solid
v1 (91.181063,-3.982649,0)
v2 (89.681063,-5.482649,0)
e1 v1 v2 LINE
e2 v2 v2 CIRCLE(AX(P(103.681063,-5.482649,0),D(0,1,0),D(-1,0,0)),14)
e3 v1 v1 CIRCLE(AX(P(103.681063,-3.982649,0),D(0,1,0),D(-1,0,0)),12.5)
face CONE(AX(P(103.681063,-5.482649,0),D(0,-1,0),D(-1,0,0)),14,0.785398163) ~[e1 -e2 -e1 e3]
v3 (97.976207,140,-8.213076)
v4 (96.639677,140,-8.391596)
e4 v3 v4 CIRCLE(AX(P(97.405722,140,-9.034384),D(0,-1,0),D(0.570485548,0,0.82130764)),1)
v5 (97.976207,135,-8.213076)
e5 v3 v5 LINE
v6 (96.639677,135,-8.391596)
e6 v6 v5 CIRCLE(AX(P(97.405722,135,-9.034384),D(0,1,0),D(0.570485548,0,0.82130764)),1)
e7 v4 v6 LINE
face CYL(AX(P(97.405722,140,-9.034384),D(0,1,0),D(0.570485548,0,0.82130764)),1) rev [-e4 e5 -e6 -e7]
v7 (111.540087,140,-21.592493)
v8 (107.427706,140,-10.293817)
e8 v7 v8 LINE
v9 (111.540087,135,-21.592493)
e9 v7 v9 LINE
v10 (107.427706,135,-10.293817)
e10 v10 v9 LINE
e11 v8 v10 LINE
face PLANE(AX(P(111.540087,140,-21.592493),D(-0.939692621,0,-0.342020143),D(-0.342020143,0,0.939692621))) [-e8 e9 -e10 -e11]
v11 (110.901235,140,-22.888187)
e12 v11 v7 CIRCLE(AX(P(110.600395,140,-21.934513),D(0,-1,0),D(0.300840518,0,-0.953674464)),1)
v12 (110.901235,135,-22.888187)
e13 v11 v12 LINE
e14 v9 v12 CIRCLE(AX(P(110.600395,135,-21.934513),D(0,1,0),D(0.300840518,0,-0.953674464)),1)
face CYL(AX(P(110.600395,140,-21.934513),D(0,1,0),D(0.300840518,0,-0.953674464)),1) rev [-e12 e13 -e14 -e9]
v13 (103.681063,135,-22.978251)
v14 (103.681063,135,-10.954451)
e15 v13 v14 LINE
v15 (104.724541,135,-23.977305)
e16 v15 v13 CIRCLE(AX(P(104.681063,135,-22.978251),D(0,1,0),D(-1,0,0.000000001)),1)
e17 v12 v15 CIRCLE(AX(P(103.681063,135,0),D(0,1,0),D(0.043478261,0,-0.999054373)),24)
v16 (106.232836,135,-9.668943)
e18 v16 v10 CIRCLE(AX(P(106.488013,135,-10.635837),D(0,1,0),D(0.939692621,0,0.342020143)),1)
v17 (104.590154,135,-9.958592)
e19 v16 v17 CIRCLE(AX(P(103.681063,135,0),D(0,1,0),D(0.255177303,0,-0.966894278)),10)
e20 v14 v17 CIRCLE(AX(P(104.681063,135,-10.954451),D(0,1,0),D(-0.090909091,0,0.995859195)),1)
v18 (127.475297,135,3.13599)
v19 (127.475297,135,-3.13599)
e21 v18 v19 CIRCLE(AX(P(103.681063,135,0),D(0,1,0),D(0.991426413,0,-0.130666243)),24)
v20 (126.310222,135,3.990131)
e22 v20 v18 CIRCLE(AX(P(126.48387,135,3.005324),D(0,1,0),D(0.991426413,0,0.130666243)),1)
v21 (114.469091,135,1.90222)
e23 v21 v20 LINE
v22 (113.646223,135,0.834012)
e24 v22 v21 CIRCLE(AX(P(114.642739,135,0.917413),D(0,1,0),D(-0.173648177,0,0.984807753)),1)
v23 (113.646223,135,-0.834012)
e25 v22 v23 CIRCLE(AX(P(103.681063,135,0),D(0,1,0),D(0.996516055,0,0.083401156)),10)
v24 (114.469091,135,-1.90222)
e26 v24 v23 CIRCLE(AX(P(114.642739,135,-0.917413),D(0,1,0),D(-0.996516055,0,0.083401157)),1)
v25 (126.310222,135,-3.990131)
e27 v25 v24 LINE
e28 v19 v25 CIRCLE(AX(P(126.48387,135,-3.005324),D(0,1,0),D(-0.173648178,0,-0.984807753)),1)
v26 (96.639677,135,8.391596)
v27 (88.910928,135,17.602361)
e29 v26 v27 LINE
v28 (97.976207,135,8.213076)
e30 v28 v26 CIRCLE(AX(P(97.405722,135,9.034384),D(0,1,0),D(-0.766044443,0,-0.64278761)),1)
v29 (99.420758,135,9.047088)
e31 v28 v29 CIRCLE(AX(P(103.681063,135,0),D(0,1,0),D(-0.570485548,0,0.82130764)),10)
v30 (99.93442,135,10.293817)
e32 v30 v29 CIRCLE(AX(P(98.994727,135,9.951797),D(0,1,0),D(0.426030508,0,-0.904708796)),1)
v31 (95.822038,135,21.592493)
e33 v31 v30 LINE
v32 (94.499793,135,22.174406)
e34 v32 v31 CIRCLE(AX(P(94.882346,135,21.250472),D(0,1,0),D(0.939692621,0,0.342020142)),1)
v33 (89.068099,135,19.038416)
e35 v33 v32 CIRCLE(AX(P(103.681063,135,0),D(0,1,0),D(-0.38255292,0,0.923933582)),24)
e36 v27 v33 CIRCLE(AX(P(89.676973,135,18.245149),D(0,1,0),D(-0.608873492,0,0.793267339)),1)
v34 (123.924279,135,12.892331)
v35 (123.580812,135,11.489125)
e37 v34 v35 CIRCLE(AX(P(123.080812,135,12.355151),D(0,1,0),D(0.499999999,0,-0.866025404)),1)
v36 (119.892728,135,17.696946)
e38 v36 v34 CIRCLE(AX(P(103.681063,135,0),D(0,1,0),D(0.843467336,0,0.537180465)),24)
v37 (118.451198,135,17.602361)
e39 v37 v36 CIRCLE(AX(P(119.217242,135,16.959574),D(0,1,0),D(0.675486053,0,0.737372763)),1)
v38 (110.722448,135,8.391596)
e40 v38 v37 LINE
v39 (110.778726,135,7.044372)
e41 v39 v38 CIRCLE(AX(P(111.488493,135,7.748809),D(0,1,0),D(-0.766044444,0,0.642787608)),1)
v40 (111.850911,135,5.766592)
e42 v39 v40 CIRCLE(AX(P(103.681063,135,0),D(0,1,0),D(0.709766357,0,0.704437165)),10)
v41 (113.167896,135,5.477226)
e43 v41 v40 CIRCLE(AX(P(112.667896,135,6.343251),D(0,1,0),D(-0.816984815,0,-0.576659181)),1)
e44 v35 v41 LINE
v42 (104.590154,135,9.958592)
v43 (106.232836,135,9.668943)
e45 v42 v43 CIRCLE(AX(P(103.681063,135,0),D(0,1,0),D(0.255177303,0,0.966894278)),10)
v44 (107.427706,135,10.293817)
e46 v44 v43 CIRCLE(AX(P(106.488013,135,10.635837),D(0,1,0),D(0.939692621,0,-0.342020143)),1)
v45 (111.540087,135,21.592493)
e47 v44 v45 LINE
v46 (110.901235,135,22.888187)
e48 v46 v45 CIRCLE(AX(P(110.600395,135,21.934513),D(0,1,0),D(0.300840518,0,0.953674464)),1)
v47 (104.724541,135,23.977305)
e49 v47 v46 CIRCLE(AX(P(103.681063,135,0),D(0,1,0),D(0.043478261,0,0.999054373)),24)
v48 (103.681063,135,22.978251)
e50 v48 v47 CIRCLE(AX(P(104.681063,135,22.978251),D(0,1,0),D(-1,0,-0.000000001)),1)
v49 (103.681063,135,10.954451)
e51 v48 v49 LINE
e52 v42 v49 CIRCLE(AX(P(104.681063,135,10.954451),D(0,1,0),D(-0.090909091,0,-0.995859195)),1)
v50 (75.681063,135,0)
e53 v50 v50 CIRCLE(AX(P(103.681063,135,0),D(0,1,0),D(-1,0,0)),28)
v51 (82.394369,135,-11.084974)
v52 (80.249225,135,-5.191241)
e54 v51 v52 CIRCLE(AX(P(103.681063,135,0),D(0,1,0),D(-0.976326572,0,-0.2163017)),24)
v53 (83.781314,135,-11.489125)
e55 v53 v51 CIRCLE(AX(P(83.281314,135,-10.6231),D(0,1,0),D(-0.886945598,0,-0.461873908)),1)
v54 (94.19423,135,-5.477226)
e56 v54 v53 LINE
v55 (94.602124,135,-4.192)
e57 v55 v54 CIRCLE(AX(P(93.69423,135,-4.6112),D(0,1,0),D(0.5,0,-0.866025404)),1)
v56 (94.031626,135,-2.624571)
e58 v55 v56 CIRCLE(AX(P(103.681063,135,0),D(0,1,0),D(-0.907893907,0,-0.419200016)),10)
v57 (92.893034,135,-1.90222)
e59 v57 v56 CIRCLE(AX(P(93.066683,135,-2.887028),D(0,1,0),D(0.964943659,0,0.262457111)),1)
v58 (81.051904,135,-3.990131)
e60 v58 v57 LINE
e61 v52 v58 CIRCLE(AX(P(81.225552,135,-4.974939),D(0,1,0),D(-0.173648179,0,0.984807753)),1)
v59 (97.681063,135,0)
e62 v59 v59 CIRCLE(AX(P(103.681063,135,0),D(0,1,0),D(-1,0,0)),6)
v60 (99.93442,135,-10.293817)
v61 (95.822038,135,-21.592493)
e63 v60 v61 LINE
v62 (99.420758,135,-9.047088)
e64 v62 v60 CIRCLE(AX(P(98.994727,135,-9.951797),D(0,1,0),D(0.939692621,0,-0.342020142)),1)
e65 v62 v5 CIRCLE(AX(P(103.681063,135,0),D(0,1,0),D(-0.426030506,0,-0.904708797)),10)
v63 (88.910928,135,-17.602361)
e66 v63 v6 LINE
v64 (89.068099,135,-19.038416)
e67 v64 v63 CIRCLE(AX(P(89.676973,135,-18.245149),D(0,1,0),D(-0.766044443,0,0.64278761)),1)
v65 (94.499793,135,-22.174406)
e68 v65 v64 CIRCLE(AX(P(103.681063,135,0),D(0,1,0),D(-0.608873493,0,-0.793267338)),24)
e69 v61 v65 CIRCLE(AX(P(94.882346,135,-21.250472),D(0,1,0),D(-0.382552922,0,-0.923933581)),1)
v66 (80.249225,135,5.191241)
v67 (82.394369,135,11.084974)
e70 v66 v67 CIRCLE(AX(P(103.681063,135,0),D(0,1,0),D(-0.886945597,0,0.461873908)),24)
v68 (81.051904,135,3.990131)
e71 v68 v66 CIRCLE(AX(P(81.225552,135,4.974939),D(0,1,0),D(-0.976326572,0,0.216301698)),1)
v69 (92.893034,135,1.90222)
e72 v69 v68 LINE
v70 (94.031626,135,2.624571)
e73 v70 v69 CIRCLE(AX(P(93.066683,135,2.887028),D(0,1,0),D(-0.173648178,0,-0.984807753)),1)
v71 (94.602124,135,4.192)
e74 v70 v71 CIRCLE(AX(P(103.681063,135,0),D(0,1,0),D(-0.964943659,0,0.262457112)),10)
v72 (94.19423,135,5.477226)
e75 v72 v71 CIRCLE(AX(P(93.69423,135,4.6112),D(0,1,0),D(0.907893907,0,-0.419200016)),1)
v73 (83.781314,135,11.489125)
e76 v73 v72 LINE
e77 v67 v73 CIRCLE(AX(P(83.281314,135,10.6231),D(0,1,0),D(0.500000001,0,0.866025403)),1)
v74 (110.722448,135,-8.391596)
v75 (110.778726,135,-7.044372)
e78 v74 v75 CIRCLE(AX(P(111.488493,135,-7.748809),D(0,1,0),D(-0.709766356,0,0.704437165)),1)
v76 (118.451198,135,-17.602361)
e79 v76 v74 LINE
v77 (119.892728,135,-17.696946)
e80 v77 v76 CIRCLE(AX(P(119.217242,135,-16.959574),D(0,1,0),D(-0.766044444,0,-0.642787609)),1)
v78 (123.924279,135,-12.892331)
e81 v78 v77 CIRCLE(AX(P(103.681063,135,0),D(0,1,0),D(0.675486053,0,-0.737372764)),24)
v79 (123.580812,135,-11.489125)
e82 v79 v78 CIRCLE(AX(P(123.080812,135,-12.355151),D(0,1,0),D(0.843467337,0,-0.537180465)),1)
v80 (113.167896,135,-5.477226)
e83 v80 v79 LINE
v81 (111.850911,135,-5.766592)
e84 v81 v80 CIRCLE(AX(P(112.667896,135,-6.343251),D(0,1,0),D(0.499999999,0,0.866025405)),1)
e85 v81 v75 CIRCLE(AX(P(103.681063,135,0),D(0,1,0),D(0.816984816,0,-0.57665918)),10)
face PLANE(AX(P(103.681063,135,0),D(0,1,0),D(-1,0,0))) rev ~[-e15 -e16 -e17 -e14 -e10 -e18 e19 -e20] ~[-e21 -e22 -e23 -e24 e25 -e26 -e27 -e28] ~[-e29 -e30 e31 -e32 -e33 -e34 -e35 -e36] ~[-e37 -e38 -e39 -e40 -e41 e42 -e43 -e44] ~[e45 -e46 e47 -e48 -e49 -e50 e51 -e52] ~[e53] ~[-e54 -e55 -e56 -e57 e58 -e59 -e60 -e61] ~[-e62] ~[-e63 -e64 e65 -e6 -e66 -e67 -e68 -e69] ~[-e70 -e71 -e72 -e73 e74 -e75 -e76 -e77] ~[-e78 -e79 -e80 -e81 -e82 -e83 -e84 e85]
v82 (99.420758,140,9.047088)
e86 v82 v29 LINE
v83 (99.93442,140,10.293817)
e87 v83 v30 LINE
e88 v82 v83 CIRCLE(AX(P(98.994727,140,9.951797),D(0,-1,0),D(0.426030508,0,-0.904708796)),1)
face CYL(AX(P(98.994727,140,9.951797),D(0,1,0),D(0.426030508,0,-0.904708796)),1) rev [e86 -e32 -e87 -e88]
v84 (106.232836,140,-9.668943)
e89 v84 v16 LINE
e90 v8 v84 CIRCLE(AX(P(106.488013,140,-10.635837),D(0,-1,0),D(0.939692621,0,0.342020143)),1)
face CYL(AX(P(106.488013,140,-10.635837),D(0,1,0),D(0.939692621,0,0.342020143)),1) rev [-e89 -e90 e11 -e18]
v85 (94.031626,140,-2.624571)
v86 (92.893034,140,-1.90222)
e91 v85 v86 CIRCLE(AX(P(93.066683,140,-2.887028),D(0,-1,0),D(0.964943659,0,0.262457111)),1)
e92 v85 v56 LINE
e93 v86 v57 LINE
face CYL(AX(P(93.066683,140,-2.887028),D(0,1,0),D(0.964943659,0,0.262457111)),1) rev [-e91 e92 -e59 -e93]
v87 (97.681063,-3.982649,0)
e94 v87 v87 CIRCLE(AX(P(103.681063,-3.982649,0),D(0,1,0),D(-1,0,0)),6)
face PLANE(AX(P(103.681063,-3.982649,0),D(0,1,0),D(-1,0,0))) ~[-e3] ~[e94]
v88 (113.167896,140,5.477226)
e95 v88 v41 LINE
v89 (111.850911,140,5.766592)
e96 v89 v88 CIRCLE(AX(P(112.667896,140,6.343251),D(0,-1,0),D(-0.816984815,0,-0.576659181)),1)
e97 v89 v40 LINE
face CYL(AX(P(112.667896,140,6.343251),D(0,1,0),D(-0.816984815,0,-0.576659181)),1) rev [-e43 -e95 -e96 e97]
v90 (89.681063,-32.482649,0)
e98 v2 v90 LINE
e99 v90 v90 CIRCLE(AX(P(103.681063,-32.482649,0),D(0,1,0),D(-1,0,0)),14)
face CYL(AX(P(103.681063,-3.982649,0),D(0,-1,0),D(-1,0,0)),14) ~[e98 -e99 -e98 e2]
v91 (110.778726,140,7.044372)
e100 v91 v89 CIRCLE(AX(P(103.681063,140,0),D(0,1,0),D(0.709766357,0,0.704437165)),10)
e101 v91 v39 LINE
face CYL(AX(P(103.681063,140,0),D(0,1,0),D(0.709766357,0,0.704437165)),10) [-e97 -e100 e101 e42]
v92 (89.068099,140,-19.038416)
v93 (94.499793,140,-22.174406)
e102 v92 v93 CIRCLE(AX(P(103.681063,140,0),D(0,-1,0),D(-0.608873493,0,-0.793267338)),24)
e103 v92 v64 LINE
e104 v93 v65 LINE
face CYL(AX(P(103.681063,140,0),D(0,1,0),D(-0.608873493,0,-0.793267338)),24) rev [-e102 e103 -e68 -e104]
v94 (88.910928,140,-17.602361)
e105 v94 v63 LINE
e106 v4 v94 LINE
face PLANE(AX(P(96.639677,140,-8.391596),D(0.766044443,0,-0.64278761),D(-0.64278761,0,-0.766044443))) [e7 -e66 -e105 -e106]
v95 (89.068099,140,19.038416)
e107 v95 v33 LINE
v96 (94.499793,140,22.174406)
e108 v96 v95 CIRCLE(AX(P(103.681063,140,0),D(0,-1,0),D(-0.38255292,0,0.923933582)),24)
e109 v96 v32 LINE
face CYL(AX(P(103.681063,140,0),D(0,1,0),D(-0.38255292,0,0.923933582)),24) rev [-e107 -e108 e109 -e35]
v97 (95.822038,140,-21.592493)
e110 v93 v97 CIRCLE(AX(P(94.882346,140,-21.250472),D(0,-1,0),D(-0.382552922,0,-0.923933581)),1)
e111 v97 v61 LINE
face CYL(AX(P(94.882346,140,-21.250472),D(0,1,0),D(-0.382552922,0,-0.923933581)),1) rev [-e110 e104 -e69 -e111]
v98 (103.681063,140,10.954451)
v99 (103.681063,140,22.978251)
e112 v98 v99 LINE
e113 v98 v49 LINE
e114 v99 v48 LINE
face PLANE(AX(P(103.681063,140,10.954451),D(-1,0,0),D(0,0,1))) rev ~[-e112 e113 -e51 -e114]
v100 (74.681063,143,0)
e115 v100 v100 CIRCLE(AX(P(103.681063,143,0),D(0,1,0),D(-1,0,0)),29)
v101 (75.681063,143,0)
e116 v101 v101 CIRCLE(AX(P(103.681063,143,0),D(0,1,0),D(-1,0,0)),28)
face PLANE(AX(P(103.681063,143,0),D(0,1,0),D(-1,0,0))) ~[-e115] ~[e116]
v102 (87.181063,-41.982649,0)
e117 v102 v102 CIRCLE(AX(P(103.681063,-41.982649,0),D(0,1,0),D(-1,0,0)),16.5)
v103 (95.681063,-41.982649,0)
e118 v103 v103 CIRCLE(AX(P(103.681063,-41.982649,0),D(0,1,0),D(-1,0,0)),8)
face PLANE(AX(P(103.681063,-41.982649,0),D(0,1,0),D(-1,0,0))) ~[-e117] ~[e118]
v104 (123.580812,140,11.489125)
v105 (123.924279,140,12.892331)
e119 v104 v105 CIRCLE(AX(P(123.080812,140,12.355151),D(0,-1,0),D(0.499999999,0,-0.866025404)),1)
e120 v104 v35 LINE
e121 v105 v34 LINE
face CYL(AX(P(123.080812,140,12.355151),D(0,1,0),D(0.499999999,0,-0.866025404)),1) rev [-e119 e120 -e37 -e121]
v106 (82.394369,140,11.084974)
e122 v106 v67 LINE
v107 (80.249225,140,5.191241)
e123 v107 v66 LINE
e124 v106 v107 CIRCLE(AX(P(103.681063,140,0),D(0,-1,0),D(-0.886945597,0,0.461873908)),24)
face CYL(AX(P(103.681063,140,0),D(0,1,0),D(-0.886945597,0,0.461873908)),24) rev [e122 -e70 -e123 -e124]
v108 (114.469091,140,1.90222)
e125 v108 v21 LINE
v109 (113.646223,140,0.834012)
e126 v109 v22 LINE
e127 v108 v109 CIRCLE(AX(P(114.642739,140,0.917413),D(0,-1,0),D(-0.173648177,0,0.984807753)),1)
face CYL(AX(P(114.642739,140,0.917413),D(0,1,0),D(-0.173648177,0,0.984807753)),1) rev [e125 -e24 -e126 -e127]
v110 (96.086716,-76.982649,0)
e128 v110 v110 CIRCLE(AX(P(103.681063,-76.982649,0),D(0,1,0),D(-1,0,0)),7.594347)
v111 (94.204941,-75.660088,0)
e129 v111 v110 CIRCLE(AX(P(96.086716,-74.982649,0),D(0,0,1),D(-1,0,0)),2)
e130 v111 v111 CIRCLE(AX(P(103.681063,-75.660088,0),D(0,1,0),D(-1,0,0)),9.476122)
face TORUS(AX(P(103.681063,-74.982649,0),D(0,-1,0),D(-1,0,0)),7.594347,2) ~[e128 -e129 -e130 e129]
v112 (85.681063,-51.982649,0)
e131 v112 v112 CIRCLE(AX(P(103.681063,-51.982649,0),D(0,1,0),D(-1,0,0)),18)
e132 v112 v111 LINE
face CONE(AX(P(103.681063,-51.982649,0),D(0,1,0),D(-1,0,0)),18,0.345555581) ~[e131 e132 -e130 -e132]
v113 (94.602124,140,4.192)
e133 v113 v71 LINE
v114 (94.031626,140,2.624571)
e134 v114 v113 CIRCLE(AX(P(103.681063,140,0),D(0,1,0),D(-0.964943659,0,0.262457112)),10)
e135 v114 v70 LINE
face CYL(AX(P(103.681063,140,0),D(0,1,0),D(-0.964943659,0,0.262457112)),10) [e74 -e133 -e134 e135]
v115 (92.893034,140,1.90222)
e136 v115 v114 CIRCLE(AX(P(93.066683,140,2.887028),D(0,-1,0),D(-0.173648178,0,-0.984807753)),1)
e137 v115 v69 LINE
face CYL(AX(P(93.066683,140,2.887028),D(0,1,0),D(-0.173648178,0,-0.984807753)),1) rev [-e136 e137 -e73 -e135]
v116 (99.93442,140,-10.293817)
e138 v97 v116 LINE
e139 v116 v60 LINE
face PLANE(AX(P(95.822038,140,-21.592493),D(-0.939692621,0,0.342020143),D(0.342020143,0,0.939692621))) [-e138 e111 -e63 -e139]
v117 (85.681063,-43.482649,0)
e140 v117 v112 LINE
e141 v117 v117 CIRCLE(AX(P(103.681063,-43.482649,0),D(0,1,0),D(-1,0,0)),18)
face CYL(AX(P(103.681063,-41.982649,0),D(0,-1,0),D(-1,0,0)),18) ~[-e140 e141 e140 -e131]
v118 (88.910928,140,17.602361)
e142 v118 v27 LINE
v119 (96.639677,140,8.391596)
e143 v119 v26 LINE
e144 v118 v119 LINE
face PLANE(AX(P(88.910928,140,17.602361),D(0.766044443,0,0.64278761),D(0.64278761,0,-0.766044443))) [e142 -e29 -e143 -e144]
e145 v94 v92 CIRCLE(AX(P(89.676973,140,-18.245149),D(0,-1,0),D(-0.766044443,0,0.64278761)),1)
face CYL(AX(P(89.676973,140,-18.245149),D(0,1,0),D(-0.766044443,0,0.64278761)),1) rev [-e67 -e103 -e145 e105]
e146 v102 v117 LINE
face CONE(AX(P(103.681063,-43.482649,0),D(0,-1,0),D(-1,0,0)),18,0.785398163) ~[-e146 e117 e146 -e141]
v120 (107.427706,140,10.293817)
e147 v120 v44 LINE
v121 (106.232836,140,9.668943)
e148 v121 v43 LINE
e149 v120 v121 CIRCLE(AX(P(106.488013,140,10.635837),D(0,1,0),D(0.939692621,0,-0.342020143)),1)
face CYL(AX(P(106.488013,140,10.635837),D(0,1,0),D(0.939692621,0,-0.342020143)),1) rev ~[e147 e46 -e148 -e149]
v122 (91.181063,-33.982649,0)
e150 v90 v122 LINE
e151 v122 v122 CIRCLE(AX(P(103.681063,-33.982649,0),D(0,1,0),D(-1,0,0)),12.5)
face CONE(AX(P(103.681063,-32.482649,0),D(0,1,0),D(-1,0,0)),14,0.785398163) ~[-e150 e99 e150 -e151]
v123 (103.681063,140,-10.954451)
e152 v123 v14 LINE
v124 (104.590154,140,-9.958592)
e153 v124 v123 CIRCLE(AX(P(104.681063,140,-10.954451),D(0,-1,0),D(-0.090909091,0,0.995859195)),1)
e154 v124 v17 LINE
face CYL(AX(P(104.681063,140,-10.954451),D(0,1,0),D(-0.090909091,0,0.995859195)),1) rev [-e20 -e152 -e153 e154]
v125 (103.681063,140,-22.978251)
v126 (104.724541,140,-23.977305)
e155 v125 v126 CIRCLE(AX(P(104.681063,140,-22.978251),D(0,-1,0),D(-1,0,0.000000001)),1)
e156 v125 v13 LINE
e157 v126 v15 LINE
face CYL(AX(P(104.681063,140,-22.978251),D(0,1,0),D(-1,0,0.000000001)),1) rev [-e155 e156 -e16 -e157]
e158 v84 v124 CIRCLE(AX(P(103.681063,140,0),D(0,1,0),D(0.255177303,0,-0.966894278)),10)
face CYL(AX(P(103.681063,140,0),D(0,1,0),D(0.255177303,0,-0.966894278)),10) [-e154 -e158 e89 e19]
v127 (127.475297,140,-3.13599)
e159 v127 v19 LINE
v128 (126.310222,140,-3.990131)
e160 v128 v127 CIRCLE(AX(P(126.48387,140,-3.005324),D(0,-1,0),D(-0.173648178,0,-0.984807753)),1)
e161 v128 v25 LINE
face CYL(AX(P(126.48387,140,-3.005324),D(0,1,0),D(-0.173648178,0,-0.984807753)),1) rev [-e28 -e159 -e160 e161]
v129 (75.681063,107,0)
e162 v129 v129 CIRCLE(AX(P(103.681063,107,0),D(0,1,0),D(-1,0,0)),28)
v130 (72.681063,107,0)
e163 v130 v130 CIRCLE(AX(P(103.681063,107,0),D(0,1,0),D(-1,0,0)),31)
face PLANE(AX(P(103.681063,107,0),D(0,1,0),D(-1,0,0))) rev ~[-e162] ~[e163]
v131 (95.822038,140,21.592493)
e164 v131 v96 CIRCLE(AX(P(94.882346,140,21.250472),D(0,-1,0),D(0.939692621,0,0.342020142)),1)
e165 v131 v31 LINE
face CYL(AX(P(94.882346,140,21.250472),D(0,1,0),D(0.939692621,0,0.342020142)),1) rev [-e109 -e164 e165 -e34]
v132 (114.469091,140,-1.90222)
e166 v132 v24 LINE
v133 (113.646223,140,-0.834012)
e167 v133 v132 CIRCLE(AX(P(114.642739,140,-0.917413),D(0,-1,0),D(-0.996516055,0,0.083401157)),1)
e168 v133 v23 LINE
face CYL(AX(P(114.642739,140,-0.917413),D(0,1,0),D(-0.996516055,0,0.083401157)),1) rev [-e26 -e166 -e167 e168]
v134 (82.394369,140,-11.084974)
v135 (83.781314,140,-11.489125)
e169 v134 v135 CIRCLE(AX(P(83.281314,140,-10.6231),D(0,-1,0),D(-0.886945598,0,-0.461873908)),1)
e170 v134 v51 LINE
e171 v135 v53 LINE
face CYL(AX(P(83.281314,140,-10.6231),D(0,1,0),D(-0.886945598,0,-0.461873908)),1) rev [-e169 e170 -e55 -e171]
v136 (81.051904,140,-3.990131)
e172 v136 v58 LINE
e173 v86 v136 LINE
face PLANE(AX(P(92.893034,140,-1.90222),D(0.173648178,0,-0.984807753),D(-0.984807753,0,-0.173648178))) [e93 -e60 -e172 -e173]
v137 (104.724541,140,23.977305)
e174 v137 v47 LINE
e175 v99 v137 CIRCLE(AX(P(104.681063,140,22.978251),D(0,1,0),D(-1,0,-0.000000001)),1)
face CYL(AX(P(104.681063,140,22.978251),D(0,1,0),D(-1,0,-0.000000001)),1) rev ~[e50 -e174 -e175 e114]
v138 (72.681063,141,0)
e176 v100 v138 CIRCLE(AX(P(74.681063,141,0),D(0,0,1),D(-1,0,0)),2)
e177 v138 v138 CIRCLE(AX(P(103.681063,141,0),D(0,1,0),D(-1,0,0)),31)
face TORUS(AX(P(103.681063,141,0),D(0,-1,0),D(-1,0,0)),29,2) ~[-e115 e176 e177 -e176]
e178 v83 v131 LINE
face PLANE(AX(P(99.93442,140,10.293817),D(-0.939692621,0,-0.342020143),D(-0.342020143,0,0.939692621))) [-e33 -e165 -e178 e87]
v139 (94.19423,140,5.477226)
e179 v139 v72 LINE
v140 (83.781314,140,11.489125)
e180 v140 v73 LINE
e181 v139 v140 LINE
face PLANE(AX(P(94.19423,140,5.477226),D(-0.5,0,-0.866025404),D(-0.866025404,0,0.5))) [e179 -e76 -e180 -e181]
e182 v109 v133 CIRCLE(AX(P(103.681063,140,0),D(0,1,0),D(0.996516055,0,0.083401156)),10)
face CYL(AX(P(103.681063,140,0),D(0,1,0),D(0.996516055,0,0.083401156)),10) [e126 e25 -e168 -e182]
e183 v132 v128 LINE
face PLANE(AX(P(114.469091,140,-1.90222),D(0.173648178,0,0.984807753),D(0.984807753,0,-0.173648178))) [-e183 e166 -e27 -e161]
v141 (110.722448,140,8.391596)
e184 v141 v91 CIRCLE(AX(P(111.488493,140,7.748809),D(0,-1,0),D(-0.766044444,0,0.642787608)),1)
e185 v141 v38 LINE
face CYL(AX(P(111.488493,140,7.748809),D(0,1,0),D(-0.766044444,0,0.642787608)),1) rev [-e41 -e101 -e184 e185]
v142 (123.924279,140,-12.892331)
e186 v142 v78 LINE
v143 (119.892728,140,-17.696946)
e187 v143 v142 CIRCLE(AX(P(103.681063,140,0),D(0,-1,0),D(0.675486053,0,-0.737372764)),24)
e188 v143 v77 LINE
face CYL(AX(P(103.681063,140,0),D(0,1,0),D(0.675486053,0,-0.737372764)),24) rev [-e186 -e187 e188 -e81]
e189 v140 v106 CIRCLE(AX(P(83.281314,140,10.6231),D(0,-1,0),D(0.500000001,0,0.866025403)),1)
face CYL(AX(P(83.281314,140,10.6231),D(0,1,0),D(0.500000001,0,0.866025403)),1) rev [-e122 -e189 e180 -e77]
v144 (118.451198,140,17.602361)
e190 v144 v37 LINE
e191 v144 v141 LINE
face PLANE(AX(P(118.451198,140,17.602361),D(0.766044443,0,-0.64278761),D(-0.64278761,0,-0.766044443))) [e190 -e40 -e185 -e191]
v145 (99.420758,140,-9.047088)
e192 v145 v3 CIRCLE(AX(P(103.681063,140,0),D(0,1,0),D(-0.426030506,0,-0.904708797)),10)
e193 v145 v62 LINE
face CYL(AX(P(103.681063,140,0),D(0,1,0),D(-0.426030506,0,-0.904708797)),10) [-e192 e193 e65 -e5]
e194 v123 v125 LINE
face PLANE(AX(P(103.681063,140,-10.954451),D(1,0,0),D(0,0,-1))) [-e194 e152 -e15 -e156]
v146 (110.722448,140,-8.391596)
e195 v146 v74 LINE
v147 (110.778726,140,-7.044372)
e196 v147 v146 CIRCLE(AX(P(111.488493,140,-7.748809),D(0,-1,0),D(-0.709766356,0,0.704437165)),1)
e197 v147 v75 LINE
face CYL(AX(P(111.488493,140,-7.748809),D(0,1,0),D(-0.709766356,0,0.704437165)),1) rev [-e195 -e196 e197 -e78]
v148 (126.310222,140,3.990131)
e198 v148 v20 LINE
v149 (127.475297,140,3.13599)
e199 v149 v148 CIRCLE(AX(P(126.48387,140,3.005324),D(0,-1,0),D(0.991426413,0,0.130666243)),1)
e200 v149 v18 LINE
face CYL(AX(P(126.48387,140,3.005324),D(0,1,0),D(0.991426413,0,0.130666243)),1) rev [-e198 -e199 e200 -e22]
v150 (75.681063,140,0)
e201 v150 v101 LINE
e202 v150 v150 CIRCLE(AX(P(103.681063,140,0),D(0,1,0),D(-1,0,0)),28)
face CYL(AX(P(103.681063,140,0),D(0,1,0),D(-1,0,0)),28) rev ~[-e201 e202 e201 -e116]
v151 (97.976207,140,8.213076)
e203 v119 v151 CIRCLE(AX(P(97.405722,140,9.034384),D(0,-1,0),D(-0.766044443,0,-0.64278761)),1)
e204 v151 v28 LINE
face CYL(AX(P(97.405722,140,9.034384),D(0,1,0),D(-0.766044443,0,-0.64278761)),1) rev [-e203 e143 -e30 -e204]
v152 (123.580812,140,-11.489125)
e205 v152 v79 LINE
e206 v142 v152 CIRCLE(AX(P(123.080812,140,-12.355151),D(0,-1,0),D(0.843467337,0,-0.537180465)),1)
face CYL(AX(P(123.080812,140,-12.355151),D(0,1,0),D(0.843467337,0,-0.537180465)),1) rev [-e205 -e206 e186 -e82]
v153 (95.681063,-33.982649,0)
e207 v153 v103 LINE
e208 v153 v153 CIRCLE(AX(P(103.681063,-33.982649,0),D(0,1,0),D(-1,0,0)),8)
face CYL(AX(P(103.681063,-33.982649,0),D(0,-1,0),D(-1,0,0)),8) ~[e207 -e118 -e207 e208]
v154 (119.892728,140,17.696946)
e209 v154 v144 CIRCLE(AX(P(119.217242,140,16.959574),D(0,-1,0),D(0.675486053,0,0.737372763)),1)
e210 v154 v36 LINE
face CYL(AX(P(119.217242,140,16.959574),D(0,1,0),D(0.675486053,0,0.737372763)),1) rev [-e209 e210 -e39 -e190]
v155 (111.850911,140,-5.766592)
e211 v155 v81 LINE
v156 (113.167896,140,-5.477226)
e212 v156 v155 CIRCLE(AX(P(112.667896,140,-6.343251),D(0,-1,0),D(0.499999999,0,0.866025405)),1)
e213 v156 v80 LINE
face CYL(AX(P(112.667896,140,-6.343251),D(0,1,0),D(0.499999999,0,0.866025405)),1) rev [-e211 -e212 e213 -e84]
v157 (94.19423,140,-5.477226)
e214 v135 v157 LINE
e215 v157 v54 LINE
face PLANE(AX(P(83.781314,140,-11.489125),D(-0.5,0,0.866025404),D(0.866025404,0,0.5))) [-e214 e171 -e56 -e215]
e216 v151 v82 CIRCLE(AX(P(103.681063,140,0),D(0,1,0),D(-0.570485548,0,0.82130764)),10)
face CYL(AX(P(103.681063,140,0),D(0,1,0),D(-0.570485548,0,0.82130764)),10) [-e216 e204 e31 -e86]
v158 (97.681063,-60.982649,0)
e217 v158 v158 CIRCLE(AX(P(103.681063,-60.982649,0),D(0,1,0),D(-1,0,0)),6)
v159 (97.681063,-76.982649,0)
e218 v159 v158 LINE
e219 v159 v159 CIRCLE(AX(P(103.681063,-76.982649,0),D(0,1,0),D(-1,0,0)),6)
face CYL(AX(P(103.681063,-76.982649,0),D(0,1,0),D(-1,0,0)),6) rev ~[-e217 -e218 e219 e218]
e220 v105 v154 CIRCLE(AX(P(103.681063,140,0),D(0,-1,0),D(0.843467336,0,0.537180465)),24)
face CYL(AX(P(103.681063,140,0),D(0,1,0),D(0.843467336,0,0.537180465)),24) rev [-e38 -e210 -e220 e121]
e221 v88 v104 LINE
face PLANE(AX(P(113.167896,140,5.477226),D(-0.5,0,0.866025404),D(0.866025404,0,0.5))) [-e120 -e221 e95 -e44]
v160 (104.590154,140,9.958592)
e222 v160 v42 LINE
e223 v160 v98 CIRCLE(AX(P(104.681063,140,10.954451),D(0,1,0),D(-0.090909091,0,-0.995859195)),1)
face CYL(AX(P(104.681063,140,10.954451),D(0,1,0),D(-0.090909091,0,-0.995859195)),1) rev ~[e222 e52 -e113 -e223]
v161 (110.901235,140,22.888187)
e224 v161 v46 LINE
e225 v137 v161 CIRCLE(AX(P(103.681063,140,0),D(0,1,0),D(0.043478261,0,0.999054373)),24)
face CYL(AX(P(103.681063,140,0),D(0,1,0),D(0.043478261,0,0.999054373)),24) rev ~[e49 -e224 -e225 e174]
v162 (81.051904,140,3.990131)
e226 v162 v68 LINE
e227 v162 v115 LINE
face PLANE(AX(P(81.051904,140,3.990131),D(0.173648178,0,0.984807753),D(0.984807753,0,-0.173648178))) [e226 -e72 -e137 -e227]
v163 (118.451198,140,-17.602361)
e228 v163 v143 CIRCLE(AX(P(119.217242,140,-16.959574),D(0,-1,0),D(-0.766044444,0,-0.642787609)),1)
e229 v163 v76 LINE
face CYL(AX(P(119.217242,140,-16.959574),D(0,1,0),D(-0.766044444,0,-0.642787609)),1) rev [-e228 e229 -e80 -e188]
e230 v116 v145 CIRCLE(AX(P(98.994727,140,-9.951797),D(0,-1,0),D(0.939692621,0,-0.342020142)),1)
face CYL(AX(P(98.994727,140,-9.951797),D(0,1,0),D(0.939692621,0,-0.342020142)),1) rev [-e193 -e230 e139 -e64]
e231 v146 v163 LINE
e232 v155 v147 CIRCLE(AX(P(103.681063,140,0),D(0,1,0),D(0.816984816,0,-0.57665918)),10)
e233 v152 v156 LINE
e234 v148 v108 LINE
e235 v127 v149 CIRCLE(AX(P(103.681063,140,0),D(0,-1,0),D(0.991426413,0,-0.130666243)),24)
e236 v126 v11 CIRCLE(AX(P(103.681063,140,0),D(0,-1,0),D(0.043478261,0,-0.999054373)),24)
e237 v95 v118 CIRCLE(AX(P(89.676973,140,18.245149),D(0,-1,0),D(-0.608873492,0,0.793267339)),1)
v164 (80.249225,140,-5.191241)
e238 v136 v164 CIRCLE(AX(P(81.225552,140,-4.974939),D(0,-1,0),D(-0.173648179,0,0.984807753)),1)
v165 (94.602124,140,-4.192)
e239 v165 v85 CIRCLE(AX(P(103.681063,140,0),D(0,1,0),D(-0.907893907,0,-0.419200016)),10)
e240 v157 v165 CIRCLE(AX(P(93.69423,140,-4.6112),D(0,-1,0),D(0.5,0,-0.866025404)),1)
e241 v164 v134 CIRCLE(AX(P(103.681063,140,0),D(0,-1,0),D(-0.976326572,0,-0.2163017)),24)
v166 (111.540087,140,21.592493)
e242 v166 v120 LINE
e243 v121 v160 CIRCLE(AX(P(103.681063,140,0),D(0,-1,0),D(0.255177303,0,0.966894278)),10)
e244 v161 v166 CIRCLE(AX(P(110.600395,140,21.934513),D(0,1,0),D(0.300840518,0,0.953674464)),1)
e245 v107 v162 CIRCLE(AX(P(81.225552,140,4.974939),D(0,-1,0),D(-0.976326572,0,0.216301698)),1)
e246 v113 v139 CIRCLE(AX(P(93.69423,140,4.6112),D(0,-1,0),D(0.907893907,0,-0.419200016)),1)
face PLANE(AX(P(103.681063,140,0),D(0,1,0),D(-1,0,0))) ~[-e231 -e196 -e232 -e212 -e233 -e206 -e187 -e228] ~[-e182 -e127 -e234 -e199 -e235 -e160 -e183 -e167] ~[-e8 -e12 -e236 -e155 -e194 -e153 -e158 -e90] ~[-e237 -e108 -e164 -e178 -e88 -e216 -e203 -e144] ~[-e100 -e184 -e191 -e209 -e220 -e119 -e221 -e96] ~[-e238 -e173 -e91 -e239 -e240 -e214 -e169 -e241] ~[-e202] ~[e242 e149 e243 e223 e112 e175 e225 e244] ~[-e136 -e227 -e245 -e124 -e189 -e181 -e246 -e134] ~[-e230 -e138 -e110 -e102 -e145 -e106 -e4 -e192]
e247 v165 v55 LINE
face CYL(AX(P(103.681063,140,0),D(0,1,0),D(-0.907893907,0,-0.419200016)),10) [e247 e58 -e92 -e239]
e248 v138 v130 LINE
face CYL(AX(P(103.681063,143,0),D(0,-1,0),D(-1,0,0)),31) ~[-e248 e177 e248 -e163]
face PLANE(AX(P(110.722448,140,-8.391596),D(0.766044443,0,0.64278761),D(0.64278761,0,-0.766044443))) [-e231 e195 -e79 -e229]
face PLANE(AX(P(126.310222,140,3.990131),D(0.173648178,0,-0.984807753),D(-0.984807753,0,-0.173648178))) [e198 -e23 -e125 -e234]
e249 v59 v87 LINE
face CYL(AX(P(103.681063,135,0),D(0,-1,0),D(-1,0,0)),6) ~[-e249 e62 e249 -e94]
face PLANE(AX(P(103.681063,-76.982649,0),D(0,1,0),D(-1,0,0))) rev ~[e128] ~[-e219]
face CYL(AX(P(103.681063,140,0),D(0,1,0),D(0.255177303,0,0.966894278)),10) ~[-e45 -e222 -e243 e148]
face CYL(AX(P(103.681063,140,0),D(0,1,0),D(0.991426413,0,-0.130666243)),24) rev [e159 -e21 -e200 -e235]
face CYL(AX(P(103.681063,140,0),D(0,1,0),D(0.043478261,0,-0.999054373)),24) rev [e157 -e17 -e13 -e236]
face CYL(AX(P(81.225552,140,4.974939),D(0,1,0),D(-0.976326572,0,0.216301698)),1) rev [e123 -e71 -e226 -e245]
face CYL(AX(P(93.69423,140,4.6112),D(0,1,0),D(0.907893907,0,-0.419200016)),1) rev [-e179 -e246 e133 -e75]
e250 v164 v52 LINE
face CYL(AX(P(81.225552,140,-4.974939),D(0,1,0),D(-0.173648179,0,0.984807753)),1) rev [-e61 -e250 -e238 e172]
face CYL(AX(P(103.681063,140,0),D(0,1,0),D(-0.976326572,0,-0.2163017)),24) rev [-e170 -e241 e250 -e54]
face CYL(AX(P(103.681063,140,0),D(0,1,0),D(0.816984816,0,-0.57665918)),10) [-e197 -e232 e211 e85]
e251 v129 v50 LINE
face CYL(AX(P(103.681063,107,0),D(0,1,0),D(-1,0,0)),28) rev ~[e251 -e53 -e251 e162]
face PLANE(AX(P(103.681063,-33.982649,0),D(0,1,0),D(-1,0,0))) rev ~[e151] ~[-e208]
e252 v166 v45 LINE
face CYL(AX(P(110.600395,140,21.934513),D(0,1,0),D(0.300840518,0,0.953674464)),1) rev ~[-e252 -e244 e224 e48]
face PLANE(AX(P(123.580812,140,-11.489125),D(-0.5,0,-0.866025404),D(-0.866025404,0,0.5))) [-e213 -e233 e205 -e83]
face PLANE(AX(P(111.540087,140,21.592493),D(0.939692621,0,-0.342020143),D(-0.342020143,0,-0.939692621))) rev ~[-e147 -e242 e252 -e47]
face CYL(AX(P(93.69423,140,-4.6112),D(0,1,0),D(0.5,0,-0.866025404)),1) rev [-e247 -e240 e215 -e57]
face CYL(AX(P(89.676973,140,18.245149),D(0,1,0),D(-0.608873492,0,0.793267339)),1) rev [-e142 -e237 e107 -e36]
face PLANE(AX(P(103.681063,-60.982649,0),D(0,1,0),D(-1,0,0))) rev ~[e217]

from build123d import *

# Parameters (mm, degrees)
REDONDEO1_R                       = 2
CHAFL_N1_SIZE                     = 1.5
REDONDEO2_R                       = 2
CORTAR_EXTRUIR1_REACH             = 218.983
CORTAR_EXTRUIR1_DIRECTION_2_DEPTH = 4


with BuildPart() as part:
    # Croquis1 → Revolución1 (revolve)
    with BuildSketch(Plane.XY):
        Polygon((97.681062899, 120), (97.681062899, 0), (97.681062899, -3.982649478), (89.681062899, -3.982649478), (89.681062899, -33.982649478), (95.681062899, -33.982649478), (95.681062899, -41.982649478), (85.681062899, -41.982649478), (85.681062899, -51.982649478), (94.681062899, -76.982649478), (97.681062899, -76.982649478), (97.681062899, -60.982649478), (103.681062899, -60.982649478), (103.681062899, 140), (75.681062899, 140), (75.681062899, 143), (72.681062899, 143), (72.681062899, 107), (75.681062899, 107), (75.681062899, 135), (97.681062899, 135), align=None)
    revolve(axis=Axis((103.681062899, -60.982649478, 0), (0, 1, 0)))

    # Redondeo1
    redondeo1_edges = [part.edges().sort_by_distance(p)[0] for p in [
        (134.681062899, 143, 0),
    ]]
    fillet(redondeo1_edges, radius=REDONDEO1_R)

    # Chaflán1
    chafl_n1_edges = [part.edges().sort_by_distance(p)[0] for p in [
        (121.681062899, -41.982649478, 0),
        (117.681062899, -33.982649478, 0),
        (117.681062899, -3.982649478, 0),
    ]]
    chamfer(chafl_n1_edges, length=CHAFL_N1_SIZE)

    # Redondeo2
    redondeo2_edges = [part.edges().sort_by_distance(p)[0] for p in [
        (112.681062899, -76.982649478, 0),
    ]]
    fillet(redondeo2_edges, radius=REDONDEO2_R)

    # Croquis2 → Cortar-Extruir1 (cut, up to next)
    with BuildSketch(Plane(origin=(0, 140, 0), x_dir=(1, 0, 0), z_dir=(0, 1, 0)), mode=Mode.PRIVATE) as cortar_extruir1_sk1:
        with BuildLine():
            Line((103.681062899, 10.95445115), (103.681062899, 22.978250586))
            ThreePointArc((103.681062899, 22.978250586), (103.989498824, 23.700565705), (104.72454116, 23.977304959))
            ThreePointArc((104.72454116, 23.977304959), (107.848619163, 23.635386072), (110.901235356, 22.888187121))
            ThreePointArc((110.901235356, 22.888187121), (111.497298816, 22.376738), (111.540087458, 21.592492514))
            Line((111.540087458, 21.592492514), (107.427705852, 10.293816911))
            ThreePointArc((107.427705852, 10.293816911), (106.951432292, 9.749697802), (106.232835928, 9.668942776))
            ThreePointArc((106.232835928, 9.668942776), (105.417544676, 9.84807753), (104.590153808, 9.958591955))
            ThreePointArc((104.590153808, 9.958591955), (103.942513953, 10.280251288), (103.681062899, 10.95445115))
        make_face()
    cortar_extruir1_tool1 = extrude(cortar_extruir1_sk1.sketch, amount=-CORTAR_EXTRUIR1_REACH, mode=Mode.PRIVATE) & part.part
    add(cortar_extruir1_tool1.solids().sort_by_distance((106.784802, 140, -17.602181))[0], mode=Mode.SUBTRACT)
    # Croquis2 → Cortar-Extruir1 (cut, up to next)
    with BuildSketch(Plane(origin=(0, 140, 0), x_dir=(1, 0, 0), z_dir=(0, 1, 0)), mode=Mode.PRIVATE) as cortar_extruir1_sk2:
        with BuildLine():
            Line((110.722448369, 8.391596431), (118.451197668, 17.602361174))
            ThreePointArc((118.451197668, 17.602361174), (119.151768503, 17.957427866), (119.892728164, 17.696946328))
            ThreePointArc((119.892728164, 17.696946328), (122.066129534, 15.426902632), (123.924278978, 12.892331162))
            ThreePointArc((123.924278978, 12.892331162), (124.052136921, 12.117396199), (123.580811641, 11.489125293))
            Line((123.580811641, 11.489125293), (113.16789588, 5.477225575))
            ThreePointArc((113.16789588, 5.477225575), (112.453296145, 5.366548899), (111.850911063, 5.766591799))
            ThreePointArc((111.850911063, 5.766591799), (111.34150733, 6.427876097), (110.778726457, 7.044371656))
            ThreePointArc((110.778726457, 7.044371656), (110.489364179, 7.707071875), (110.722448369, 8.391596431))
        make_face()
    cortar_extruir1_tool2 = extrude(cortar_extruir1_sk2.sketch, amount=-CORTAR_EXTRUIR1_REACH, mode=Mode.PRIVATE) & part.part
    add(cortar_extruir1_tool2.solids().sort_by_distance((117.373129, 140, -11.489008))[0], mode=Mode.SUBTRACT)
    # Croquis2 → Cortar-Extruir1 (cut, up to next)
    with BuildSketch(Plane(origin=(0, 140, 0), x_dir=(1, 0, 0), z_dir=(0, 1, 0)), mode=Mode.PRIVATE) as cortar_extruir1_sk3:
        with BuildLine():
            Line((114.469091322, 1.90222048), (126.310222227, 3.99013134))
            ThreePointArc((126.310222227, 3.99013134), (127.075123092, 3.811809954), (127.475296818, 3.13598983))
            ThreePointArc((127.475296818, 3.13598983), (127.681062899, 0), (127.475296818, -3.13598983))
            ThreePointArc((127.475296818, -3.13598983), (127.075123092, -3.811809954), (126.310222227, -3.99013134))
            Line((126.310222227, -3.99013134), (114.469091322, -1.90222048))
            ThreePointArc((114.469091322, -1.90222048), (113.850534569, -1.527667877), (113.646223445, -0.83401157))
            ThreePointArc((113.646223445, -0.83401157), (113.681062899, 0), (113.646223445, 0.83401157))
            ThreePointArc((113.646223445, 0.83401157), (113.850534569, 1.527667877), (114.469091322, 1.90222048))
        make_face()
    cortar_extruir1_tool3 = extrude(cortar_extruir1_sk3.sketch, amount=-CORTAR_EXTRUIR1_REACH, mode=Mode.PRIVATE) & part.part
    add(cortar_extruir1_tool3.solids().sort_by_distance((121.554786, 140, 0))[0], mode=Mode.SUBTRACT)
    # Croquis2 → Cortar-Extruir1 (cut, up to next)
    with BuildSketch(Plane(origin=(0, 140, 0), x_dir=(1, 0, 0), z_dir=(0, 1, 0)), mode=Mode.PRIVATE) as cortar_extruir1_sk4:
        with BuildLine():
            Line((113.16789588, -5.477225575), (123.580811641, -11.489125293))
            ThreePointArc((123.580811641, -11.489125293), (124.052136921, -12.117396199), (123.924278978, -12.892331162))
            ThreePointArc((123.924278978, -12.892331162), (122.066129534, -15.426902632), (119.892728164, -17.696946328))
            ThreePointArc((119.892728164, -17.696946328), (119.151768503, -17.957427866), (118.451197668, -17.602361174))
            Line((118.451197668, -17.602361174), (110.722448369, -8.391596431))
            ThreePointArc((110.722448369, -8.391596431), (110.489364179, -7.707071875), (110.778726457, -7.044371656))
            ThreePointArc((110.778726457, -7.044371656), (111.34150733, -6.427876097), (111.850911063, -5.766591799))
            ThreePointArc((111.850911063, -5.766591799), (112.453296145, -5.366548899), (113.16789588, -5.477225575))
        make_face()
    cortar_extruir1_tool4 = extrude(cortar_extruir1_sk4.sketch, amount=-CORTAR_EXTRUIR1_REACH, mode=Mode.PRIVATE) & part.part
    add(cortar_extruir1_tool4.solids().sort_by_distance((117.373129, 140, 11.489008))[0], mode=Mode.SUBTRACT)
    # Croquis2 → Cortar-Extruir1 (cut, up to next)
    with BuildSketch(Plane(origin=(0, 140, 0), x_dir=(1, 0, 0), z_dir=(0, 1, 0)), mode=Mode.PRIVATE) as cortar_extruir1_sk5:
        with BuildLine():
            Line((103.681062899, -10.95445115), (103.681062899, -22.978250586))
            ThreePointArc((103.681062899, -22.978250586), (103.989498824, -23.700565705), (104.72454116, -23.977304959))
            ThreePointArc((104.72454116, -23.977304959), (107.848619163, -23.635386072), (110.901235356, -22.888187121))
            ThreePointArc((110.901235356, -22.888187121), (111.497298816, -22.376738), (111.540087458, -21.592492514))
            Line((111.540087458, -21.592492514), (107.427705852, -10.293816911))
            ThreePointArc((107.427705852, -10.293816911), (106.951432292, -9.749697802), (106.232835928, -9.668942776))
            ThreePointArc((106.232835928, -9.668942776), (105.417544676, -9.84807753), (104.590153808, -9.958591955))
            ThreePointArc((104.590153808, -9.958591955), (103.942513953, -10.280251288), (103.681062899, -10.95445115))
        make_face()
    cortar_extruir1_tool5 = extrude(cortar_extruir1_sk5.sketch, amount=-CORTAR_EXTRUIR1_REACH, mode=Mode.PRIVATE) & part.part
    add(cortar_extruir1_tool5.solids().sort_by_distance((106.784802, 140, 17.602181))[0], mode=Mode.SUBTRACT)
    # Croquis2 → Cortar-Extruir1 (cut, up to next)
    with BuildSketch(Plane(origin=(0, 140, 0), x_dir=(1, 0, 0), z_dir=(0, 1, 0)), mode=Mode.PRIVATE) as cortar_extruir1_sk6:
        with BuildLine():
            Line((99.934419947, -10.293816911), (95.82203834, -21.592492514))
            ThreePointArc((95.82203834, -21.592492514), (95.285157057, -22.165755402), (94.499792799, -22.174405952))
            ThreePointArc((94.499792799, -22.174405952), (91.681062899, -20.784609691), (89.068099081, -19.038416122))
            ThreePointArc((89.068099081, -19.038416122), (88.682908548, -18.353945448), (88.91092813, -17.602361174))
            Line((88.91092813, -17.602361174), (96.639677429, -8.391596431))
            ThreePointArc((96.639677429, -8.391596431), (97.273327874, -8.043186871), (97.97620742, -8.213076401))
            ThreePointArc((97.97620742, -8.213076401), (98.681062899, -8.660254038), (99.420757833, -9.04708797))
            ThreePointArc((99.420757833, -9.04708797), (99.919326254, -9.570854748), (99.934419947, -10.293816911))
        make_face()
    cortar_extruir1_tool6 = extrude(cortar_extruir1_sk6.sketch, amount=-CORTAR_EXTRUIR1_REACH, mode=Mode.PRIVATE) & part.part
    add(cortar_extruir1_tool6.solids().sort_by_distance((94.744201, 140, 15.479098))[0], mode=Mode.SUBTRACT)
    # Croquis2 → Cortar-Extruir1 (cut, up to next)
    with BuildSketch(Plane(origin=(0, 140, 0), x_dir=(1, 0, 0), z_dir=(0, 1, 0)), mode=Mode.PRIVATE) as cortar_extruir1_sk7:
        with BuildLine():
            Line((94.194229919, -5.477225575), (83.781314157, -11.489125293))
            ThreePointArc((83.781314157, -11.489125293), (83.001552952, -11.583169506), (82.39436856, -11.084973798))
            ThreePointArc((82.39436856, -11.084973798), (81.12844, -8.20848344), (80.249225177, -5.191240793))
            ThreePointArc((80.249225177, -5.191240793), (80.394121379, -4.419310135), (81.051903571, -3.99013134))
            Line((81.051903571, -3.99013134), (92.893034477, -1.90222048))
            ThreePointArc((92.893034477, -1.90222048), (93.602392227, -2.042625927), (94.031626313, -2.624571121))
            ThreePointArc((94.031626313, -2.624571121), (94.284136691, -3.420201433), (94.602123826, -4.192000156))
            ThreePointArc((94.602123826, -4.192000156), (94.6473786, -4.913702389), (94.194229919, -5.477225575))
        make_face()
    cortar_extruir1_tool7 = extrude(cortar_extruir1_sk7.sketch, amount=-CORTAR_EXTRUIR1_REACH, mode=Mode.PRIVATE) & part.part
    add(cortar_extruir1_tool7.solids().sort_by_distance((86.885257, 140, 6.113173))[0], mode=Mode.SUBTRACT)
    # Croquis2 → Cortar-Extruir1 (cut, up to next)
    with BuildSketch(Plane(origin=(0, 140, 0), x_dir=(1, 0, 0), z_dir=(0, 1, 0)), mode=Mode.PRIVATE) as cortar_extruir1_sk8:
        with BuildLine():
            Line((92.893034477, 1.90222048), (81.051903571, 3.99013134))
            ThreePointArc((81.051903571, 3.99013134), (80.394121379, 4.419310135), (80.249225177, 5.191240793))
            ThreePointArc((80.249225177, 5.191240793), (81.12844, 8.20848344), (82.39436856, 11.084973798))
            ThreePointArc((82.39436856, 11.084973798), (83.001552952, 11.583169506), (83.781314157, 11.489125293))
            Line((83.781314157, 11.489125293), (94.194229919, 5.477225575))
            ThreePointArc((94.194229919, 5.477225575), (94.6473786, 4.913702389), (94.602123826, 4.192000156))
            ThreePointArc((94.602123826, 4.192000156), (94.284136691, 3.420201433), (94.031626313, 2.624571121))
            ThreePointArc((94.031626313, 2.624571121), (93.602392227, 2.042625927), (92.893034477, 1.90222048))
        make_face()
    cortar_extruir1_tool8 = extrude(cortar_extruir1_sk8.sketch, amount=-CORTAR_EXTRUIR1_REACH, mode=Mode.PRIVATE) & part.part
    add(cortar_extruir1_tool8.solids().sort_by_distance((86.885257, 140, -6.113173))[0], mode=Mode.SUBTRACT)
    # Croquis2 → Cortar-Extruir1 (cut, up to next)
    with BuildSketch(Plane(origin=(0, 140, 0), x_dir=(1, 0, 0), z_dir=(0, 1, 0)), mode=Mode.PRIVATE) as cortar_extruir1_sk9:
        with BuildLine():
            Line((96.639677429, 8.391596431), (88.91092813, 17.602361174))
            ThreePointArc((88.91092813, 17.602361174), (88.682908548, 18.353945448), (89.068099081, 19.038416122))
            ThreePointArc((89.068099081, 19.038416122), (91.681062899, 20.784609691), (94.499792799, 22.174405952))
            ThreePointArc((94.499792799, 22.174405952), (95.285157057, 22.165755402), (95.82203834, 21.592492514))
            Line((95.82203834, 21.592492514), (99.934419947, 10.293816911))
            ThreePointArc((99.934419947, 10.293816911), (99.919326254, 9.570854748), (99.420757833, 9.04708797))
            ThreePointArc((99.420757833, 9.04708797), (98.681062899, 8.660254038), (97.97620742, 8.213076401))
            ThreePointArc((97.97620742, 8.213076401), (97.273327874, 8.043186871), (96.639677429, 8.391596431))
        make_face()
    cortar_extruir1_tool9 = extrude(cortar_extruir1_sk9.sketch, amount=-CORTAR_EXTRUIR1_REACH, mode=Mode.PRIVATE) & part.part
    add(cortar_extruir1_tool9.solids().sort_by_distance((94.744201, 140, -15.479098))[0], mode=Mode.SUBTRACT)

    # Croquis2 → Cortar-Extruir1 direction 2 (cut)
    with BuildSketch(Plane(origin=(0, 140, 0), x_dir=(1, 0, 0), z_dir=(0, 1, 0))):
        with BuildLine():
            Line((103.681062899, 10.95445115), (103.681062899, 22.978250586))
            ThreePointArc((103.681062899, 22.978250586), (103.989498824, 23.700565705), (104.72454116, 23.977304959))
            ThreePointArc((104.72454116, 23.977304959), (107.848619163, 23.635386072), (110.901235356, 22.888187121))
            ThreePointArc((110.901235356, 22.888187121), (111.497298816, 22.376738), (111.540087458, 21.592492514))
            Line((111.540087458, 21.592492514), (107.427705852, 10.293816911))
            ThreePointArc((107.427705852, 10.293816911), (106.951432292, 9.749697802), (106.232835928, 9.668942776))
            ThreePointArc((106.232835928, 9.668942776), (105.417544676, 9.84807753), (104.590153808, 9.958591955))
            ThreePointArc((104.590153808, 9.958591955), (103.942513953, 10.280251288), (103.681062899, 10.95445115))
        make_face()
        with BuildLine():
            Line((110.722448369, 8.391596431), (118.451197668, 17.602361174))
            ThreePointArc((118.451197668, 17.602361174), (119.151768503, 17.957427866), (119.892728164, 17.696946328))
            ThreePointArc((119.892728164, 17.696946328), (122.066129534, 15.426902632), (123.924278978, 12.892331162))
            ThreePointArc((123.924278978, 12.892331162), (124.052136921, 12.117396199), (123.580811641, 11.489125293))
            Line((123.580811641, 11.489125293), (113.16789588, 5.477225575))
            ThreePointArc((113.16789588, 5.477225575), (112.453296145, 5.366548899), (111.850911063, 5.766591799))
            ThreePointArc((111.850911063, 5.766591799), (111.34150733, 6.427876097), (110.778726457, 7.044371656))
            ThreePointArc((110.778726457, 7.044371656), (110.489364179, 7.707071875), (110.722448369, 8.391596431))
        make_face()
        with BuildLine():
            Line((114.469091322, 1.90222048), (126.310222227, 3.99013134))
            ThreePointArc((126.310222227, 3.99013134), (127.075123092, 3.811809954), (127.475296818, 3.13598983))
            ThreePointArc((127.475296818, 3.13598983), (127.681062899, 0), (127.475296818, -3.13598983))
            ThreePointArc((127.475296818, -3.13598983), (127.075123092, -3.811809954), (126.310222227, -3.99013134))
            Line((126.310222227, -3.99013134), (114.469091322, -1.90222048))
            ThreePointArc((114.469091322, -1.90222048), (113.850534569, -1.527667877), (113.646223445, -0.83401157))
            ThreePointArc((113.646223445, -0.83401157), (113.681062899, 0), (113.646223445, 0.83401157))
            ThreePointArc((113.646223445, 0.83401157), (113.850534569, 1.527667877), (114.469091322, 1.90222048))
        make_face()
        with BuildLine():
            Line((113.16789588, -5.477225575), (123.580811641, -11.489125293))
            ThreePointArc((123.580811641, -11.489125293), (124.052136921, -12.117396199), (123.924278978, -12.892331162))
            ThreePointArc((123.924278978, -12.892331162), (122.066129534, -15.426902632), (119.892728164, -17.696946328))
            ThreePointArc((119.892728164, -17.696946328), (119.151768503, -17.957427866), (118.451197668, -17.602361174))
            Line((118.451197668, -17.602361174), (110.722448369, -8.391596431))
            ThreePointArc((110.722448369, -8.391596431), (110.489364179, -7.707071875), (110.778726457, -7.044371656))
            ThreePointArc((110.778726457, -7.044371656), (111.34150733, -6.427876097), (111.850911063, -5.766591799))
            ThreePointArc((111.850911063, -5.766591799), (112.453296145, -5.366548899), (113.16789588, -5.477225575))
        make_face()
        with BuildLine():
            Line((103.681062899, -10.95445115), (103.681062899, -22.978250586))
            ThreePointArc((103.681062899, -22.978250586), (103.989498824, -23.700565705), (104.72454116, -23.977304959))
            ThreePointArc((104.72454116, -23.977304959), (107.848619163, -23.635386072), (110.901235356, -22.888187121))
            ThreePointArc((110.901235356, -22.888187121), (111.497298816, -22.376738), (111.540087458, -21.592492514))
            Line((111.540087458, -21.592492514), (107.427705852, -10.293816911))
            ThreePointArc((107.427705852, -10.293816911), (106.951432292, -9.749697802), (106.232835928, -9.668942776))
            ThreePointArc((106.232835928, -9.668942776), (105.417544676, -9.84807753), (104.590153808, -9.958591955))
            ThreePointArc((104.590153808, -9.958591955), (103.942513953, -10.280251288), (103.681062899, -10.95445115))
        make_face()
        with BuildLine():
            Line((99.934419947, -10.293816911), (95.82203834, -21.592492514))
            ThreePointArc((95.82203834, -21.592492514), (95.285157057, -22.165755402), (94.499792799, -22.174405952))
            ThreePointArc((94.499792799, -22.174405952), (91.681062899, -20.784609691), (89.068099081, -19.038416122))
            ThreePointArc((89.068099081, -19.038416122), (88.682908548, -18.353945448), (88.91092813, -17.602361174))
            Line((88.91092813, -17.602361174), (96.639677429, -8.391596431))
            ThreePointArc((96.639677429, -8.391596431), (97.273327874, -8.043186871), (97.97620742, -8.213076401))
            ThreePointArc((97.97620742, -8.213076401), (98.681062899, -8.660254038), (99.420757833, -9.04708797))
            ThreePointArc((99.420757833, -9.04708797), (99.919326254, -9.570854748), (99.934419947, -10.293816911))
        make_face()
        with BuildLine():
            Line((94.194229919, -5.477225575), (83.781314157, -11.489125293))
            ThreePointArc((83.781314157, -11.489125293), (83.001552952, -11.583169506), (82.39436856, -11.084973798))
            ThreePointArc((82.39436856, -11.084973798), (81.12844, -8.20848344), (80.249225177, -5.191240793))
            ThreePointArc((80.249225177, -5.191240793), (80.394121379, -4.419310135), (81.051903571, -3.99013134))
            Line((81.051903571, -3.99013134), (92.893034477, -1.90222048))
            ThreePointArc((92.893034477, -1.90222048), (93.602392227, -2.042625927), (94.031626313, -2.624571121))
            ThreePointArc((94.031626313, -2.624571121), (94.284136691, -3.420201433), (94.602123826, -4.192000156))
            ThreePointArc((94.602123826, -4.192000156), (94.6473786, -4.913702389), (94.194229919, -5.477225575))
        make_face()
        with BuildLine():
            Line((92.893034477, 1.90222048), (81.051903571, 3.99013134))
            ThreePointArc((81.051903571, 3.99013134), (80.394121379, 4.419310135), (80.249225177, 5.191240793))
            ThreePointArc((80.249225177, 5.191240793), (81.12844, 8.20848344), (82.39436856, 11.084973798))
            ThreePointArc((82.39436856, 11.084973798), (83.001552952, 11.583169506), (83.781314157, 11.489125293))
            Line((83.781314157, 11.489125293), (94.194229919, 5.477225575))
            ThreePointArc((94.194229919, 5.477225575), (94.6473786, 4.913702389), (94.602123826, 4.192000156))
            ThreePointArc((94.602123826, 4.192000156), (94.284136691, 3.420201433), (94.031626313, 2.624571121))
            ThreePointArc((94.031626313, 2.624571121), (93.602392227, 2.042625927), (92.893034477, 1.90222048))
        make_face()
        with BuildLine():
            Line((96.639677429, 8.391596431), (88.91092813, 17.602361174))
            ThreePointArc((88.91092813, 17.602361174), (88.682908548, 18.353945448), (89.068099081, 19.038416122))
            ThreePointArc((89.068099081, 19.038416122), (91.681062899, 20.784609691), (94.499792799, 22.174405952))
            ThreePointArc((94.499792799, 22.174405952), (95.285157057, 22.165755402), (95.82203834, 21.592492514))
            Line((95.82203834, 21.592492514), (99.934419947, 10.293816911))
            ThreePointArc((99.934419947, 10.293816911), (99.919326254, 9.570854748), (99.420757833, 9.04708797))
            ThreePointArc((99.420757833, 9.04708797), (98.681062899, 8.660254038), (97.97620742, 8.213076401))
            ThreePointArc((97.97620742, 8.213076401), (97.273327874, 8.043186871), (96.639677429, 8.391596431))
        make_face()
    extrude(amount=CORTAR_EXTRUIR1_DIRECTION_2_DEPTH, mode=Mode.SUBTRACT)


solid = part.part
